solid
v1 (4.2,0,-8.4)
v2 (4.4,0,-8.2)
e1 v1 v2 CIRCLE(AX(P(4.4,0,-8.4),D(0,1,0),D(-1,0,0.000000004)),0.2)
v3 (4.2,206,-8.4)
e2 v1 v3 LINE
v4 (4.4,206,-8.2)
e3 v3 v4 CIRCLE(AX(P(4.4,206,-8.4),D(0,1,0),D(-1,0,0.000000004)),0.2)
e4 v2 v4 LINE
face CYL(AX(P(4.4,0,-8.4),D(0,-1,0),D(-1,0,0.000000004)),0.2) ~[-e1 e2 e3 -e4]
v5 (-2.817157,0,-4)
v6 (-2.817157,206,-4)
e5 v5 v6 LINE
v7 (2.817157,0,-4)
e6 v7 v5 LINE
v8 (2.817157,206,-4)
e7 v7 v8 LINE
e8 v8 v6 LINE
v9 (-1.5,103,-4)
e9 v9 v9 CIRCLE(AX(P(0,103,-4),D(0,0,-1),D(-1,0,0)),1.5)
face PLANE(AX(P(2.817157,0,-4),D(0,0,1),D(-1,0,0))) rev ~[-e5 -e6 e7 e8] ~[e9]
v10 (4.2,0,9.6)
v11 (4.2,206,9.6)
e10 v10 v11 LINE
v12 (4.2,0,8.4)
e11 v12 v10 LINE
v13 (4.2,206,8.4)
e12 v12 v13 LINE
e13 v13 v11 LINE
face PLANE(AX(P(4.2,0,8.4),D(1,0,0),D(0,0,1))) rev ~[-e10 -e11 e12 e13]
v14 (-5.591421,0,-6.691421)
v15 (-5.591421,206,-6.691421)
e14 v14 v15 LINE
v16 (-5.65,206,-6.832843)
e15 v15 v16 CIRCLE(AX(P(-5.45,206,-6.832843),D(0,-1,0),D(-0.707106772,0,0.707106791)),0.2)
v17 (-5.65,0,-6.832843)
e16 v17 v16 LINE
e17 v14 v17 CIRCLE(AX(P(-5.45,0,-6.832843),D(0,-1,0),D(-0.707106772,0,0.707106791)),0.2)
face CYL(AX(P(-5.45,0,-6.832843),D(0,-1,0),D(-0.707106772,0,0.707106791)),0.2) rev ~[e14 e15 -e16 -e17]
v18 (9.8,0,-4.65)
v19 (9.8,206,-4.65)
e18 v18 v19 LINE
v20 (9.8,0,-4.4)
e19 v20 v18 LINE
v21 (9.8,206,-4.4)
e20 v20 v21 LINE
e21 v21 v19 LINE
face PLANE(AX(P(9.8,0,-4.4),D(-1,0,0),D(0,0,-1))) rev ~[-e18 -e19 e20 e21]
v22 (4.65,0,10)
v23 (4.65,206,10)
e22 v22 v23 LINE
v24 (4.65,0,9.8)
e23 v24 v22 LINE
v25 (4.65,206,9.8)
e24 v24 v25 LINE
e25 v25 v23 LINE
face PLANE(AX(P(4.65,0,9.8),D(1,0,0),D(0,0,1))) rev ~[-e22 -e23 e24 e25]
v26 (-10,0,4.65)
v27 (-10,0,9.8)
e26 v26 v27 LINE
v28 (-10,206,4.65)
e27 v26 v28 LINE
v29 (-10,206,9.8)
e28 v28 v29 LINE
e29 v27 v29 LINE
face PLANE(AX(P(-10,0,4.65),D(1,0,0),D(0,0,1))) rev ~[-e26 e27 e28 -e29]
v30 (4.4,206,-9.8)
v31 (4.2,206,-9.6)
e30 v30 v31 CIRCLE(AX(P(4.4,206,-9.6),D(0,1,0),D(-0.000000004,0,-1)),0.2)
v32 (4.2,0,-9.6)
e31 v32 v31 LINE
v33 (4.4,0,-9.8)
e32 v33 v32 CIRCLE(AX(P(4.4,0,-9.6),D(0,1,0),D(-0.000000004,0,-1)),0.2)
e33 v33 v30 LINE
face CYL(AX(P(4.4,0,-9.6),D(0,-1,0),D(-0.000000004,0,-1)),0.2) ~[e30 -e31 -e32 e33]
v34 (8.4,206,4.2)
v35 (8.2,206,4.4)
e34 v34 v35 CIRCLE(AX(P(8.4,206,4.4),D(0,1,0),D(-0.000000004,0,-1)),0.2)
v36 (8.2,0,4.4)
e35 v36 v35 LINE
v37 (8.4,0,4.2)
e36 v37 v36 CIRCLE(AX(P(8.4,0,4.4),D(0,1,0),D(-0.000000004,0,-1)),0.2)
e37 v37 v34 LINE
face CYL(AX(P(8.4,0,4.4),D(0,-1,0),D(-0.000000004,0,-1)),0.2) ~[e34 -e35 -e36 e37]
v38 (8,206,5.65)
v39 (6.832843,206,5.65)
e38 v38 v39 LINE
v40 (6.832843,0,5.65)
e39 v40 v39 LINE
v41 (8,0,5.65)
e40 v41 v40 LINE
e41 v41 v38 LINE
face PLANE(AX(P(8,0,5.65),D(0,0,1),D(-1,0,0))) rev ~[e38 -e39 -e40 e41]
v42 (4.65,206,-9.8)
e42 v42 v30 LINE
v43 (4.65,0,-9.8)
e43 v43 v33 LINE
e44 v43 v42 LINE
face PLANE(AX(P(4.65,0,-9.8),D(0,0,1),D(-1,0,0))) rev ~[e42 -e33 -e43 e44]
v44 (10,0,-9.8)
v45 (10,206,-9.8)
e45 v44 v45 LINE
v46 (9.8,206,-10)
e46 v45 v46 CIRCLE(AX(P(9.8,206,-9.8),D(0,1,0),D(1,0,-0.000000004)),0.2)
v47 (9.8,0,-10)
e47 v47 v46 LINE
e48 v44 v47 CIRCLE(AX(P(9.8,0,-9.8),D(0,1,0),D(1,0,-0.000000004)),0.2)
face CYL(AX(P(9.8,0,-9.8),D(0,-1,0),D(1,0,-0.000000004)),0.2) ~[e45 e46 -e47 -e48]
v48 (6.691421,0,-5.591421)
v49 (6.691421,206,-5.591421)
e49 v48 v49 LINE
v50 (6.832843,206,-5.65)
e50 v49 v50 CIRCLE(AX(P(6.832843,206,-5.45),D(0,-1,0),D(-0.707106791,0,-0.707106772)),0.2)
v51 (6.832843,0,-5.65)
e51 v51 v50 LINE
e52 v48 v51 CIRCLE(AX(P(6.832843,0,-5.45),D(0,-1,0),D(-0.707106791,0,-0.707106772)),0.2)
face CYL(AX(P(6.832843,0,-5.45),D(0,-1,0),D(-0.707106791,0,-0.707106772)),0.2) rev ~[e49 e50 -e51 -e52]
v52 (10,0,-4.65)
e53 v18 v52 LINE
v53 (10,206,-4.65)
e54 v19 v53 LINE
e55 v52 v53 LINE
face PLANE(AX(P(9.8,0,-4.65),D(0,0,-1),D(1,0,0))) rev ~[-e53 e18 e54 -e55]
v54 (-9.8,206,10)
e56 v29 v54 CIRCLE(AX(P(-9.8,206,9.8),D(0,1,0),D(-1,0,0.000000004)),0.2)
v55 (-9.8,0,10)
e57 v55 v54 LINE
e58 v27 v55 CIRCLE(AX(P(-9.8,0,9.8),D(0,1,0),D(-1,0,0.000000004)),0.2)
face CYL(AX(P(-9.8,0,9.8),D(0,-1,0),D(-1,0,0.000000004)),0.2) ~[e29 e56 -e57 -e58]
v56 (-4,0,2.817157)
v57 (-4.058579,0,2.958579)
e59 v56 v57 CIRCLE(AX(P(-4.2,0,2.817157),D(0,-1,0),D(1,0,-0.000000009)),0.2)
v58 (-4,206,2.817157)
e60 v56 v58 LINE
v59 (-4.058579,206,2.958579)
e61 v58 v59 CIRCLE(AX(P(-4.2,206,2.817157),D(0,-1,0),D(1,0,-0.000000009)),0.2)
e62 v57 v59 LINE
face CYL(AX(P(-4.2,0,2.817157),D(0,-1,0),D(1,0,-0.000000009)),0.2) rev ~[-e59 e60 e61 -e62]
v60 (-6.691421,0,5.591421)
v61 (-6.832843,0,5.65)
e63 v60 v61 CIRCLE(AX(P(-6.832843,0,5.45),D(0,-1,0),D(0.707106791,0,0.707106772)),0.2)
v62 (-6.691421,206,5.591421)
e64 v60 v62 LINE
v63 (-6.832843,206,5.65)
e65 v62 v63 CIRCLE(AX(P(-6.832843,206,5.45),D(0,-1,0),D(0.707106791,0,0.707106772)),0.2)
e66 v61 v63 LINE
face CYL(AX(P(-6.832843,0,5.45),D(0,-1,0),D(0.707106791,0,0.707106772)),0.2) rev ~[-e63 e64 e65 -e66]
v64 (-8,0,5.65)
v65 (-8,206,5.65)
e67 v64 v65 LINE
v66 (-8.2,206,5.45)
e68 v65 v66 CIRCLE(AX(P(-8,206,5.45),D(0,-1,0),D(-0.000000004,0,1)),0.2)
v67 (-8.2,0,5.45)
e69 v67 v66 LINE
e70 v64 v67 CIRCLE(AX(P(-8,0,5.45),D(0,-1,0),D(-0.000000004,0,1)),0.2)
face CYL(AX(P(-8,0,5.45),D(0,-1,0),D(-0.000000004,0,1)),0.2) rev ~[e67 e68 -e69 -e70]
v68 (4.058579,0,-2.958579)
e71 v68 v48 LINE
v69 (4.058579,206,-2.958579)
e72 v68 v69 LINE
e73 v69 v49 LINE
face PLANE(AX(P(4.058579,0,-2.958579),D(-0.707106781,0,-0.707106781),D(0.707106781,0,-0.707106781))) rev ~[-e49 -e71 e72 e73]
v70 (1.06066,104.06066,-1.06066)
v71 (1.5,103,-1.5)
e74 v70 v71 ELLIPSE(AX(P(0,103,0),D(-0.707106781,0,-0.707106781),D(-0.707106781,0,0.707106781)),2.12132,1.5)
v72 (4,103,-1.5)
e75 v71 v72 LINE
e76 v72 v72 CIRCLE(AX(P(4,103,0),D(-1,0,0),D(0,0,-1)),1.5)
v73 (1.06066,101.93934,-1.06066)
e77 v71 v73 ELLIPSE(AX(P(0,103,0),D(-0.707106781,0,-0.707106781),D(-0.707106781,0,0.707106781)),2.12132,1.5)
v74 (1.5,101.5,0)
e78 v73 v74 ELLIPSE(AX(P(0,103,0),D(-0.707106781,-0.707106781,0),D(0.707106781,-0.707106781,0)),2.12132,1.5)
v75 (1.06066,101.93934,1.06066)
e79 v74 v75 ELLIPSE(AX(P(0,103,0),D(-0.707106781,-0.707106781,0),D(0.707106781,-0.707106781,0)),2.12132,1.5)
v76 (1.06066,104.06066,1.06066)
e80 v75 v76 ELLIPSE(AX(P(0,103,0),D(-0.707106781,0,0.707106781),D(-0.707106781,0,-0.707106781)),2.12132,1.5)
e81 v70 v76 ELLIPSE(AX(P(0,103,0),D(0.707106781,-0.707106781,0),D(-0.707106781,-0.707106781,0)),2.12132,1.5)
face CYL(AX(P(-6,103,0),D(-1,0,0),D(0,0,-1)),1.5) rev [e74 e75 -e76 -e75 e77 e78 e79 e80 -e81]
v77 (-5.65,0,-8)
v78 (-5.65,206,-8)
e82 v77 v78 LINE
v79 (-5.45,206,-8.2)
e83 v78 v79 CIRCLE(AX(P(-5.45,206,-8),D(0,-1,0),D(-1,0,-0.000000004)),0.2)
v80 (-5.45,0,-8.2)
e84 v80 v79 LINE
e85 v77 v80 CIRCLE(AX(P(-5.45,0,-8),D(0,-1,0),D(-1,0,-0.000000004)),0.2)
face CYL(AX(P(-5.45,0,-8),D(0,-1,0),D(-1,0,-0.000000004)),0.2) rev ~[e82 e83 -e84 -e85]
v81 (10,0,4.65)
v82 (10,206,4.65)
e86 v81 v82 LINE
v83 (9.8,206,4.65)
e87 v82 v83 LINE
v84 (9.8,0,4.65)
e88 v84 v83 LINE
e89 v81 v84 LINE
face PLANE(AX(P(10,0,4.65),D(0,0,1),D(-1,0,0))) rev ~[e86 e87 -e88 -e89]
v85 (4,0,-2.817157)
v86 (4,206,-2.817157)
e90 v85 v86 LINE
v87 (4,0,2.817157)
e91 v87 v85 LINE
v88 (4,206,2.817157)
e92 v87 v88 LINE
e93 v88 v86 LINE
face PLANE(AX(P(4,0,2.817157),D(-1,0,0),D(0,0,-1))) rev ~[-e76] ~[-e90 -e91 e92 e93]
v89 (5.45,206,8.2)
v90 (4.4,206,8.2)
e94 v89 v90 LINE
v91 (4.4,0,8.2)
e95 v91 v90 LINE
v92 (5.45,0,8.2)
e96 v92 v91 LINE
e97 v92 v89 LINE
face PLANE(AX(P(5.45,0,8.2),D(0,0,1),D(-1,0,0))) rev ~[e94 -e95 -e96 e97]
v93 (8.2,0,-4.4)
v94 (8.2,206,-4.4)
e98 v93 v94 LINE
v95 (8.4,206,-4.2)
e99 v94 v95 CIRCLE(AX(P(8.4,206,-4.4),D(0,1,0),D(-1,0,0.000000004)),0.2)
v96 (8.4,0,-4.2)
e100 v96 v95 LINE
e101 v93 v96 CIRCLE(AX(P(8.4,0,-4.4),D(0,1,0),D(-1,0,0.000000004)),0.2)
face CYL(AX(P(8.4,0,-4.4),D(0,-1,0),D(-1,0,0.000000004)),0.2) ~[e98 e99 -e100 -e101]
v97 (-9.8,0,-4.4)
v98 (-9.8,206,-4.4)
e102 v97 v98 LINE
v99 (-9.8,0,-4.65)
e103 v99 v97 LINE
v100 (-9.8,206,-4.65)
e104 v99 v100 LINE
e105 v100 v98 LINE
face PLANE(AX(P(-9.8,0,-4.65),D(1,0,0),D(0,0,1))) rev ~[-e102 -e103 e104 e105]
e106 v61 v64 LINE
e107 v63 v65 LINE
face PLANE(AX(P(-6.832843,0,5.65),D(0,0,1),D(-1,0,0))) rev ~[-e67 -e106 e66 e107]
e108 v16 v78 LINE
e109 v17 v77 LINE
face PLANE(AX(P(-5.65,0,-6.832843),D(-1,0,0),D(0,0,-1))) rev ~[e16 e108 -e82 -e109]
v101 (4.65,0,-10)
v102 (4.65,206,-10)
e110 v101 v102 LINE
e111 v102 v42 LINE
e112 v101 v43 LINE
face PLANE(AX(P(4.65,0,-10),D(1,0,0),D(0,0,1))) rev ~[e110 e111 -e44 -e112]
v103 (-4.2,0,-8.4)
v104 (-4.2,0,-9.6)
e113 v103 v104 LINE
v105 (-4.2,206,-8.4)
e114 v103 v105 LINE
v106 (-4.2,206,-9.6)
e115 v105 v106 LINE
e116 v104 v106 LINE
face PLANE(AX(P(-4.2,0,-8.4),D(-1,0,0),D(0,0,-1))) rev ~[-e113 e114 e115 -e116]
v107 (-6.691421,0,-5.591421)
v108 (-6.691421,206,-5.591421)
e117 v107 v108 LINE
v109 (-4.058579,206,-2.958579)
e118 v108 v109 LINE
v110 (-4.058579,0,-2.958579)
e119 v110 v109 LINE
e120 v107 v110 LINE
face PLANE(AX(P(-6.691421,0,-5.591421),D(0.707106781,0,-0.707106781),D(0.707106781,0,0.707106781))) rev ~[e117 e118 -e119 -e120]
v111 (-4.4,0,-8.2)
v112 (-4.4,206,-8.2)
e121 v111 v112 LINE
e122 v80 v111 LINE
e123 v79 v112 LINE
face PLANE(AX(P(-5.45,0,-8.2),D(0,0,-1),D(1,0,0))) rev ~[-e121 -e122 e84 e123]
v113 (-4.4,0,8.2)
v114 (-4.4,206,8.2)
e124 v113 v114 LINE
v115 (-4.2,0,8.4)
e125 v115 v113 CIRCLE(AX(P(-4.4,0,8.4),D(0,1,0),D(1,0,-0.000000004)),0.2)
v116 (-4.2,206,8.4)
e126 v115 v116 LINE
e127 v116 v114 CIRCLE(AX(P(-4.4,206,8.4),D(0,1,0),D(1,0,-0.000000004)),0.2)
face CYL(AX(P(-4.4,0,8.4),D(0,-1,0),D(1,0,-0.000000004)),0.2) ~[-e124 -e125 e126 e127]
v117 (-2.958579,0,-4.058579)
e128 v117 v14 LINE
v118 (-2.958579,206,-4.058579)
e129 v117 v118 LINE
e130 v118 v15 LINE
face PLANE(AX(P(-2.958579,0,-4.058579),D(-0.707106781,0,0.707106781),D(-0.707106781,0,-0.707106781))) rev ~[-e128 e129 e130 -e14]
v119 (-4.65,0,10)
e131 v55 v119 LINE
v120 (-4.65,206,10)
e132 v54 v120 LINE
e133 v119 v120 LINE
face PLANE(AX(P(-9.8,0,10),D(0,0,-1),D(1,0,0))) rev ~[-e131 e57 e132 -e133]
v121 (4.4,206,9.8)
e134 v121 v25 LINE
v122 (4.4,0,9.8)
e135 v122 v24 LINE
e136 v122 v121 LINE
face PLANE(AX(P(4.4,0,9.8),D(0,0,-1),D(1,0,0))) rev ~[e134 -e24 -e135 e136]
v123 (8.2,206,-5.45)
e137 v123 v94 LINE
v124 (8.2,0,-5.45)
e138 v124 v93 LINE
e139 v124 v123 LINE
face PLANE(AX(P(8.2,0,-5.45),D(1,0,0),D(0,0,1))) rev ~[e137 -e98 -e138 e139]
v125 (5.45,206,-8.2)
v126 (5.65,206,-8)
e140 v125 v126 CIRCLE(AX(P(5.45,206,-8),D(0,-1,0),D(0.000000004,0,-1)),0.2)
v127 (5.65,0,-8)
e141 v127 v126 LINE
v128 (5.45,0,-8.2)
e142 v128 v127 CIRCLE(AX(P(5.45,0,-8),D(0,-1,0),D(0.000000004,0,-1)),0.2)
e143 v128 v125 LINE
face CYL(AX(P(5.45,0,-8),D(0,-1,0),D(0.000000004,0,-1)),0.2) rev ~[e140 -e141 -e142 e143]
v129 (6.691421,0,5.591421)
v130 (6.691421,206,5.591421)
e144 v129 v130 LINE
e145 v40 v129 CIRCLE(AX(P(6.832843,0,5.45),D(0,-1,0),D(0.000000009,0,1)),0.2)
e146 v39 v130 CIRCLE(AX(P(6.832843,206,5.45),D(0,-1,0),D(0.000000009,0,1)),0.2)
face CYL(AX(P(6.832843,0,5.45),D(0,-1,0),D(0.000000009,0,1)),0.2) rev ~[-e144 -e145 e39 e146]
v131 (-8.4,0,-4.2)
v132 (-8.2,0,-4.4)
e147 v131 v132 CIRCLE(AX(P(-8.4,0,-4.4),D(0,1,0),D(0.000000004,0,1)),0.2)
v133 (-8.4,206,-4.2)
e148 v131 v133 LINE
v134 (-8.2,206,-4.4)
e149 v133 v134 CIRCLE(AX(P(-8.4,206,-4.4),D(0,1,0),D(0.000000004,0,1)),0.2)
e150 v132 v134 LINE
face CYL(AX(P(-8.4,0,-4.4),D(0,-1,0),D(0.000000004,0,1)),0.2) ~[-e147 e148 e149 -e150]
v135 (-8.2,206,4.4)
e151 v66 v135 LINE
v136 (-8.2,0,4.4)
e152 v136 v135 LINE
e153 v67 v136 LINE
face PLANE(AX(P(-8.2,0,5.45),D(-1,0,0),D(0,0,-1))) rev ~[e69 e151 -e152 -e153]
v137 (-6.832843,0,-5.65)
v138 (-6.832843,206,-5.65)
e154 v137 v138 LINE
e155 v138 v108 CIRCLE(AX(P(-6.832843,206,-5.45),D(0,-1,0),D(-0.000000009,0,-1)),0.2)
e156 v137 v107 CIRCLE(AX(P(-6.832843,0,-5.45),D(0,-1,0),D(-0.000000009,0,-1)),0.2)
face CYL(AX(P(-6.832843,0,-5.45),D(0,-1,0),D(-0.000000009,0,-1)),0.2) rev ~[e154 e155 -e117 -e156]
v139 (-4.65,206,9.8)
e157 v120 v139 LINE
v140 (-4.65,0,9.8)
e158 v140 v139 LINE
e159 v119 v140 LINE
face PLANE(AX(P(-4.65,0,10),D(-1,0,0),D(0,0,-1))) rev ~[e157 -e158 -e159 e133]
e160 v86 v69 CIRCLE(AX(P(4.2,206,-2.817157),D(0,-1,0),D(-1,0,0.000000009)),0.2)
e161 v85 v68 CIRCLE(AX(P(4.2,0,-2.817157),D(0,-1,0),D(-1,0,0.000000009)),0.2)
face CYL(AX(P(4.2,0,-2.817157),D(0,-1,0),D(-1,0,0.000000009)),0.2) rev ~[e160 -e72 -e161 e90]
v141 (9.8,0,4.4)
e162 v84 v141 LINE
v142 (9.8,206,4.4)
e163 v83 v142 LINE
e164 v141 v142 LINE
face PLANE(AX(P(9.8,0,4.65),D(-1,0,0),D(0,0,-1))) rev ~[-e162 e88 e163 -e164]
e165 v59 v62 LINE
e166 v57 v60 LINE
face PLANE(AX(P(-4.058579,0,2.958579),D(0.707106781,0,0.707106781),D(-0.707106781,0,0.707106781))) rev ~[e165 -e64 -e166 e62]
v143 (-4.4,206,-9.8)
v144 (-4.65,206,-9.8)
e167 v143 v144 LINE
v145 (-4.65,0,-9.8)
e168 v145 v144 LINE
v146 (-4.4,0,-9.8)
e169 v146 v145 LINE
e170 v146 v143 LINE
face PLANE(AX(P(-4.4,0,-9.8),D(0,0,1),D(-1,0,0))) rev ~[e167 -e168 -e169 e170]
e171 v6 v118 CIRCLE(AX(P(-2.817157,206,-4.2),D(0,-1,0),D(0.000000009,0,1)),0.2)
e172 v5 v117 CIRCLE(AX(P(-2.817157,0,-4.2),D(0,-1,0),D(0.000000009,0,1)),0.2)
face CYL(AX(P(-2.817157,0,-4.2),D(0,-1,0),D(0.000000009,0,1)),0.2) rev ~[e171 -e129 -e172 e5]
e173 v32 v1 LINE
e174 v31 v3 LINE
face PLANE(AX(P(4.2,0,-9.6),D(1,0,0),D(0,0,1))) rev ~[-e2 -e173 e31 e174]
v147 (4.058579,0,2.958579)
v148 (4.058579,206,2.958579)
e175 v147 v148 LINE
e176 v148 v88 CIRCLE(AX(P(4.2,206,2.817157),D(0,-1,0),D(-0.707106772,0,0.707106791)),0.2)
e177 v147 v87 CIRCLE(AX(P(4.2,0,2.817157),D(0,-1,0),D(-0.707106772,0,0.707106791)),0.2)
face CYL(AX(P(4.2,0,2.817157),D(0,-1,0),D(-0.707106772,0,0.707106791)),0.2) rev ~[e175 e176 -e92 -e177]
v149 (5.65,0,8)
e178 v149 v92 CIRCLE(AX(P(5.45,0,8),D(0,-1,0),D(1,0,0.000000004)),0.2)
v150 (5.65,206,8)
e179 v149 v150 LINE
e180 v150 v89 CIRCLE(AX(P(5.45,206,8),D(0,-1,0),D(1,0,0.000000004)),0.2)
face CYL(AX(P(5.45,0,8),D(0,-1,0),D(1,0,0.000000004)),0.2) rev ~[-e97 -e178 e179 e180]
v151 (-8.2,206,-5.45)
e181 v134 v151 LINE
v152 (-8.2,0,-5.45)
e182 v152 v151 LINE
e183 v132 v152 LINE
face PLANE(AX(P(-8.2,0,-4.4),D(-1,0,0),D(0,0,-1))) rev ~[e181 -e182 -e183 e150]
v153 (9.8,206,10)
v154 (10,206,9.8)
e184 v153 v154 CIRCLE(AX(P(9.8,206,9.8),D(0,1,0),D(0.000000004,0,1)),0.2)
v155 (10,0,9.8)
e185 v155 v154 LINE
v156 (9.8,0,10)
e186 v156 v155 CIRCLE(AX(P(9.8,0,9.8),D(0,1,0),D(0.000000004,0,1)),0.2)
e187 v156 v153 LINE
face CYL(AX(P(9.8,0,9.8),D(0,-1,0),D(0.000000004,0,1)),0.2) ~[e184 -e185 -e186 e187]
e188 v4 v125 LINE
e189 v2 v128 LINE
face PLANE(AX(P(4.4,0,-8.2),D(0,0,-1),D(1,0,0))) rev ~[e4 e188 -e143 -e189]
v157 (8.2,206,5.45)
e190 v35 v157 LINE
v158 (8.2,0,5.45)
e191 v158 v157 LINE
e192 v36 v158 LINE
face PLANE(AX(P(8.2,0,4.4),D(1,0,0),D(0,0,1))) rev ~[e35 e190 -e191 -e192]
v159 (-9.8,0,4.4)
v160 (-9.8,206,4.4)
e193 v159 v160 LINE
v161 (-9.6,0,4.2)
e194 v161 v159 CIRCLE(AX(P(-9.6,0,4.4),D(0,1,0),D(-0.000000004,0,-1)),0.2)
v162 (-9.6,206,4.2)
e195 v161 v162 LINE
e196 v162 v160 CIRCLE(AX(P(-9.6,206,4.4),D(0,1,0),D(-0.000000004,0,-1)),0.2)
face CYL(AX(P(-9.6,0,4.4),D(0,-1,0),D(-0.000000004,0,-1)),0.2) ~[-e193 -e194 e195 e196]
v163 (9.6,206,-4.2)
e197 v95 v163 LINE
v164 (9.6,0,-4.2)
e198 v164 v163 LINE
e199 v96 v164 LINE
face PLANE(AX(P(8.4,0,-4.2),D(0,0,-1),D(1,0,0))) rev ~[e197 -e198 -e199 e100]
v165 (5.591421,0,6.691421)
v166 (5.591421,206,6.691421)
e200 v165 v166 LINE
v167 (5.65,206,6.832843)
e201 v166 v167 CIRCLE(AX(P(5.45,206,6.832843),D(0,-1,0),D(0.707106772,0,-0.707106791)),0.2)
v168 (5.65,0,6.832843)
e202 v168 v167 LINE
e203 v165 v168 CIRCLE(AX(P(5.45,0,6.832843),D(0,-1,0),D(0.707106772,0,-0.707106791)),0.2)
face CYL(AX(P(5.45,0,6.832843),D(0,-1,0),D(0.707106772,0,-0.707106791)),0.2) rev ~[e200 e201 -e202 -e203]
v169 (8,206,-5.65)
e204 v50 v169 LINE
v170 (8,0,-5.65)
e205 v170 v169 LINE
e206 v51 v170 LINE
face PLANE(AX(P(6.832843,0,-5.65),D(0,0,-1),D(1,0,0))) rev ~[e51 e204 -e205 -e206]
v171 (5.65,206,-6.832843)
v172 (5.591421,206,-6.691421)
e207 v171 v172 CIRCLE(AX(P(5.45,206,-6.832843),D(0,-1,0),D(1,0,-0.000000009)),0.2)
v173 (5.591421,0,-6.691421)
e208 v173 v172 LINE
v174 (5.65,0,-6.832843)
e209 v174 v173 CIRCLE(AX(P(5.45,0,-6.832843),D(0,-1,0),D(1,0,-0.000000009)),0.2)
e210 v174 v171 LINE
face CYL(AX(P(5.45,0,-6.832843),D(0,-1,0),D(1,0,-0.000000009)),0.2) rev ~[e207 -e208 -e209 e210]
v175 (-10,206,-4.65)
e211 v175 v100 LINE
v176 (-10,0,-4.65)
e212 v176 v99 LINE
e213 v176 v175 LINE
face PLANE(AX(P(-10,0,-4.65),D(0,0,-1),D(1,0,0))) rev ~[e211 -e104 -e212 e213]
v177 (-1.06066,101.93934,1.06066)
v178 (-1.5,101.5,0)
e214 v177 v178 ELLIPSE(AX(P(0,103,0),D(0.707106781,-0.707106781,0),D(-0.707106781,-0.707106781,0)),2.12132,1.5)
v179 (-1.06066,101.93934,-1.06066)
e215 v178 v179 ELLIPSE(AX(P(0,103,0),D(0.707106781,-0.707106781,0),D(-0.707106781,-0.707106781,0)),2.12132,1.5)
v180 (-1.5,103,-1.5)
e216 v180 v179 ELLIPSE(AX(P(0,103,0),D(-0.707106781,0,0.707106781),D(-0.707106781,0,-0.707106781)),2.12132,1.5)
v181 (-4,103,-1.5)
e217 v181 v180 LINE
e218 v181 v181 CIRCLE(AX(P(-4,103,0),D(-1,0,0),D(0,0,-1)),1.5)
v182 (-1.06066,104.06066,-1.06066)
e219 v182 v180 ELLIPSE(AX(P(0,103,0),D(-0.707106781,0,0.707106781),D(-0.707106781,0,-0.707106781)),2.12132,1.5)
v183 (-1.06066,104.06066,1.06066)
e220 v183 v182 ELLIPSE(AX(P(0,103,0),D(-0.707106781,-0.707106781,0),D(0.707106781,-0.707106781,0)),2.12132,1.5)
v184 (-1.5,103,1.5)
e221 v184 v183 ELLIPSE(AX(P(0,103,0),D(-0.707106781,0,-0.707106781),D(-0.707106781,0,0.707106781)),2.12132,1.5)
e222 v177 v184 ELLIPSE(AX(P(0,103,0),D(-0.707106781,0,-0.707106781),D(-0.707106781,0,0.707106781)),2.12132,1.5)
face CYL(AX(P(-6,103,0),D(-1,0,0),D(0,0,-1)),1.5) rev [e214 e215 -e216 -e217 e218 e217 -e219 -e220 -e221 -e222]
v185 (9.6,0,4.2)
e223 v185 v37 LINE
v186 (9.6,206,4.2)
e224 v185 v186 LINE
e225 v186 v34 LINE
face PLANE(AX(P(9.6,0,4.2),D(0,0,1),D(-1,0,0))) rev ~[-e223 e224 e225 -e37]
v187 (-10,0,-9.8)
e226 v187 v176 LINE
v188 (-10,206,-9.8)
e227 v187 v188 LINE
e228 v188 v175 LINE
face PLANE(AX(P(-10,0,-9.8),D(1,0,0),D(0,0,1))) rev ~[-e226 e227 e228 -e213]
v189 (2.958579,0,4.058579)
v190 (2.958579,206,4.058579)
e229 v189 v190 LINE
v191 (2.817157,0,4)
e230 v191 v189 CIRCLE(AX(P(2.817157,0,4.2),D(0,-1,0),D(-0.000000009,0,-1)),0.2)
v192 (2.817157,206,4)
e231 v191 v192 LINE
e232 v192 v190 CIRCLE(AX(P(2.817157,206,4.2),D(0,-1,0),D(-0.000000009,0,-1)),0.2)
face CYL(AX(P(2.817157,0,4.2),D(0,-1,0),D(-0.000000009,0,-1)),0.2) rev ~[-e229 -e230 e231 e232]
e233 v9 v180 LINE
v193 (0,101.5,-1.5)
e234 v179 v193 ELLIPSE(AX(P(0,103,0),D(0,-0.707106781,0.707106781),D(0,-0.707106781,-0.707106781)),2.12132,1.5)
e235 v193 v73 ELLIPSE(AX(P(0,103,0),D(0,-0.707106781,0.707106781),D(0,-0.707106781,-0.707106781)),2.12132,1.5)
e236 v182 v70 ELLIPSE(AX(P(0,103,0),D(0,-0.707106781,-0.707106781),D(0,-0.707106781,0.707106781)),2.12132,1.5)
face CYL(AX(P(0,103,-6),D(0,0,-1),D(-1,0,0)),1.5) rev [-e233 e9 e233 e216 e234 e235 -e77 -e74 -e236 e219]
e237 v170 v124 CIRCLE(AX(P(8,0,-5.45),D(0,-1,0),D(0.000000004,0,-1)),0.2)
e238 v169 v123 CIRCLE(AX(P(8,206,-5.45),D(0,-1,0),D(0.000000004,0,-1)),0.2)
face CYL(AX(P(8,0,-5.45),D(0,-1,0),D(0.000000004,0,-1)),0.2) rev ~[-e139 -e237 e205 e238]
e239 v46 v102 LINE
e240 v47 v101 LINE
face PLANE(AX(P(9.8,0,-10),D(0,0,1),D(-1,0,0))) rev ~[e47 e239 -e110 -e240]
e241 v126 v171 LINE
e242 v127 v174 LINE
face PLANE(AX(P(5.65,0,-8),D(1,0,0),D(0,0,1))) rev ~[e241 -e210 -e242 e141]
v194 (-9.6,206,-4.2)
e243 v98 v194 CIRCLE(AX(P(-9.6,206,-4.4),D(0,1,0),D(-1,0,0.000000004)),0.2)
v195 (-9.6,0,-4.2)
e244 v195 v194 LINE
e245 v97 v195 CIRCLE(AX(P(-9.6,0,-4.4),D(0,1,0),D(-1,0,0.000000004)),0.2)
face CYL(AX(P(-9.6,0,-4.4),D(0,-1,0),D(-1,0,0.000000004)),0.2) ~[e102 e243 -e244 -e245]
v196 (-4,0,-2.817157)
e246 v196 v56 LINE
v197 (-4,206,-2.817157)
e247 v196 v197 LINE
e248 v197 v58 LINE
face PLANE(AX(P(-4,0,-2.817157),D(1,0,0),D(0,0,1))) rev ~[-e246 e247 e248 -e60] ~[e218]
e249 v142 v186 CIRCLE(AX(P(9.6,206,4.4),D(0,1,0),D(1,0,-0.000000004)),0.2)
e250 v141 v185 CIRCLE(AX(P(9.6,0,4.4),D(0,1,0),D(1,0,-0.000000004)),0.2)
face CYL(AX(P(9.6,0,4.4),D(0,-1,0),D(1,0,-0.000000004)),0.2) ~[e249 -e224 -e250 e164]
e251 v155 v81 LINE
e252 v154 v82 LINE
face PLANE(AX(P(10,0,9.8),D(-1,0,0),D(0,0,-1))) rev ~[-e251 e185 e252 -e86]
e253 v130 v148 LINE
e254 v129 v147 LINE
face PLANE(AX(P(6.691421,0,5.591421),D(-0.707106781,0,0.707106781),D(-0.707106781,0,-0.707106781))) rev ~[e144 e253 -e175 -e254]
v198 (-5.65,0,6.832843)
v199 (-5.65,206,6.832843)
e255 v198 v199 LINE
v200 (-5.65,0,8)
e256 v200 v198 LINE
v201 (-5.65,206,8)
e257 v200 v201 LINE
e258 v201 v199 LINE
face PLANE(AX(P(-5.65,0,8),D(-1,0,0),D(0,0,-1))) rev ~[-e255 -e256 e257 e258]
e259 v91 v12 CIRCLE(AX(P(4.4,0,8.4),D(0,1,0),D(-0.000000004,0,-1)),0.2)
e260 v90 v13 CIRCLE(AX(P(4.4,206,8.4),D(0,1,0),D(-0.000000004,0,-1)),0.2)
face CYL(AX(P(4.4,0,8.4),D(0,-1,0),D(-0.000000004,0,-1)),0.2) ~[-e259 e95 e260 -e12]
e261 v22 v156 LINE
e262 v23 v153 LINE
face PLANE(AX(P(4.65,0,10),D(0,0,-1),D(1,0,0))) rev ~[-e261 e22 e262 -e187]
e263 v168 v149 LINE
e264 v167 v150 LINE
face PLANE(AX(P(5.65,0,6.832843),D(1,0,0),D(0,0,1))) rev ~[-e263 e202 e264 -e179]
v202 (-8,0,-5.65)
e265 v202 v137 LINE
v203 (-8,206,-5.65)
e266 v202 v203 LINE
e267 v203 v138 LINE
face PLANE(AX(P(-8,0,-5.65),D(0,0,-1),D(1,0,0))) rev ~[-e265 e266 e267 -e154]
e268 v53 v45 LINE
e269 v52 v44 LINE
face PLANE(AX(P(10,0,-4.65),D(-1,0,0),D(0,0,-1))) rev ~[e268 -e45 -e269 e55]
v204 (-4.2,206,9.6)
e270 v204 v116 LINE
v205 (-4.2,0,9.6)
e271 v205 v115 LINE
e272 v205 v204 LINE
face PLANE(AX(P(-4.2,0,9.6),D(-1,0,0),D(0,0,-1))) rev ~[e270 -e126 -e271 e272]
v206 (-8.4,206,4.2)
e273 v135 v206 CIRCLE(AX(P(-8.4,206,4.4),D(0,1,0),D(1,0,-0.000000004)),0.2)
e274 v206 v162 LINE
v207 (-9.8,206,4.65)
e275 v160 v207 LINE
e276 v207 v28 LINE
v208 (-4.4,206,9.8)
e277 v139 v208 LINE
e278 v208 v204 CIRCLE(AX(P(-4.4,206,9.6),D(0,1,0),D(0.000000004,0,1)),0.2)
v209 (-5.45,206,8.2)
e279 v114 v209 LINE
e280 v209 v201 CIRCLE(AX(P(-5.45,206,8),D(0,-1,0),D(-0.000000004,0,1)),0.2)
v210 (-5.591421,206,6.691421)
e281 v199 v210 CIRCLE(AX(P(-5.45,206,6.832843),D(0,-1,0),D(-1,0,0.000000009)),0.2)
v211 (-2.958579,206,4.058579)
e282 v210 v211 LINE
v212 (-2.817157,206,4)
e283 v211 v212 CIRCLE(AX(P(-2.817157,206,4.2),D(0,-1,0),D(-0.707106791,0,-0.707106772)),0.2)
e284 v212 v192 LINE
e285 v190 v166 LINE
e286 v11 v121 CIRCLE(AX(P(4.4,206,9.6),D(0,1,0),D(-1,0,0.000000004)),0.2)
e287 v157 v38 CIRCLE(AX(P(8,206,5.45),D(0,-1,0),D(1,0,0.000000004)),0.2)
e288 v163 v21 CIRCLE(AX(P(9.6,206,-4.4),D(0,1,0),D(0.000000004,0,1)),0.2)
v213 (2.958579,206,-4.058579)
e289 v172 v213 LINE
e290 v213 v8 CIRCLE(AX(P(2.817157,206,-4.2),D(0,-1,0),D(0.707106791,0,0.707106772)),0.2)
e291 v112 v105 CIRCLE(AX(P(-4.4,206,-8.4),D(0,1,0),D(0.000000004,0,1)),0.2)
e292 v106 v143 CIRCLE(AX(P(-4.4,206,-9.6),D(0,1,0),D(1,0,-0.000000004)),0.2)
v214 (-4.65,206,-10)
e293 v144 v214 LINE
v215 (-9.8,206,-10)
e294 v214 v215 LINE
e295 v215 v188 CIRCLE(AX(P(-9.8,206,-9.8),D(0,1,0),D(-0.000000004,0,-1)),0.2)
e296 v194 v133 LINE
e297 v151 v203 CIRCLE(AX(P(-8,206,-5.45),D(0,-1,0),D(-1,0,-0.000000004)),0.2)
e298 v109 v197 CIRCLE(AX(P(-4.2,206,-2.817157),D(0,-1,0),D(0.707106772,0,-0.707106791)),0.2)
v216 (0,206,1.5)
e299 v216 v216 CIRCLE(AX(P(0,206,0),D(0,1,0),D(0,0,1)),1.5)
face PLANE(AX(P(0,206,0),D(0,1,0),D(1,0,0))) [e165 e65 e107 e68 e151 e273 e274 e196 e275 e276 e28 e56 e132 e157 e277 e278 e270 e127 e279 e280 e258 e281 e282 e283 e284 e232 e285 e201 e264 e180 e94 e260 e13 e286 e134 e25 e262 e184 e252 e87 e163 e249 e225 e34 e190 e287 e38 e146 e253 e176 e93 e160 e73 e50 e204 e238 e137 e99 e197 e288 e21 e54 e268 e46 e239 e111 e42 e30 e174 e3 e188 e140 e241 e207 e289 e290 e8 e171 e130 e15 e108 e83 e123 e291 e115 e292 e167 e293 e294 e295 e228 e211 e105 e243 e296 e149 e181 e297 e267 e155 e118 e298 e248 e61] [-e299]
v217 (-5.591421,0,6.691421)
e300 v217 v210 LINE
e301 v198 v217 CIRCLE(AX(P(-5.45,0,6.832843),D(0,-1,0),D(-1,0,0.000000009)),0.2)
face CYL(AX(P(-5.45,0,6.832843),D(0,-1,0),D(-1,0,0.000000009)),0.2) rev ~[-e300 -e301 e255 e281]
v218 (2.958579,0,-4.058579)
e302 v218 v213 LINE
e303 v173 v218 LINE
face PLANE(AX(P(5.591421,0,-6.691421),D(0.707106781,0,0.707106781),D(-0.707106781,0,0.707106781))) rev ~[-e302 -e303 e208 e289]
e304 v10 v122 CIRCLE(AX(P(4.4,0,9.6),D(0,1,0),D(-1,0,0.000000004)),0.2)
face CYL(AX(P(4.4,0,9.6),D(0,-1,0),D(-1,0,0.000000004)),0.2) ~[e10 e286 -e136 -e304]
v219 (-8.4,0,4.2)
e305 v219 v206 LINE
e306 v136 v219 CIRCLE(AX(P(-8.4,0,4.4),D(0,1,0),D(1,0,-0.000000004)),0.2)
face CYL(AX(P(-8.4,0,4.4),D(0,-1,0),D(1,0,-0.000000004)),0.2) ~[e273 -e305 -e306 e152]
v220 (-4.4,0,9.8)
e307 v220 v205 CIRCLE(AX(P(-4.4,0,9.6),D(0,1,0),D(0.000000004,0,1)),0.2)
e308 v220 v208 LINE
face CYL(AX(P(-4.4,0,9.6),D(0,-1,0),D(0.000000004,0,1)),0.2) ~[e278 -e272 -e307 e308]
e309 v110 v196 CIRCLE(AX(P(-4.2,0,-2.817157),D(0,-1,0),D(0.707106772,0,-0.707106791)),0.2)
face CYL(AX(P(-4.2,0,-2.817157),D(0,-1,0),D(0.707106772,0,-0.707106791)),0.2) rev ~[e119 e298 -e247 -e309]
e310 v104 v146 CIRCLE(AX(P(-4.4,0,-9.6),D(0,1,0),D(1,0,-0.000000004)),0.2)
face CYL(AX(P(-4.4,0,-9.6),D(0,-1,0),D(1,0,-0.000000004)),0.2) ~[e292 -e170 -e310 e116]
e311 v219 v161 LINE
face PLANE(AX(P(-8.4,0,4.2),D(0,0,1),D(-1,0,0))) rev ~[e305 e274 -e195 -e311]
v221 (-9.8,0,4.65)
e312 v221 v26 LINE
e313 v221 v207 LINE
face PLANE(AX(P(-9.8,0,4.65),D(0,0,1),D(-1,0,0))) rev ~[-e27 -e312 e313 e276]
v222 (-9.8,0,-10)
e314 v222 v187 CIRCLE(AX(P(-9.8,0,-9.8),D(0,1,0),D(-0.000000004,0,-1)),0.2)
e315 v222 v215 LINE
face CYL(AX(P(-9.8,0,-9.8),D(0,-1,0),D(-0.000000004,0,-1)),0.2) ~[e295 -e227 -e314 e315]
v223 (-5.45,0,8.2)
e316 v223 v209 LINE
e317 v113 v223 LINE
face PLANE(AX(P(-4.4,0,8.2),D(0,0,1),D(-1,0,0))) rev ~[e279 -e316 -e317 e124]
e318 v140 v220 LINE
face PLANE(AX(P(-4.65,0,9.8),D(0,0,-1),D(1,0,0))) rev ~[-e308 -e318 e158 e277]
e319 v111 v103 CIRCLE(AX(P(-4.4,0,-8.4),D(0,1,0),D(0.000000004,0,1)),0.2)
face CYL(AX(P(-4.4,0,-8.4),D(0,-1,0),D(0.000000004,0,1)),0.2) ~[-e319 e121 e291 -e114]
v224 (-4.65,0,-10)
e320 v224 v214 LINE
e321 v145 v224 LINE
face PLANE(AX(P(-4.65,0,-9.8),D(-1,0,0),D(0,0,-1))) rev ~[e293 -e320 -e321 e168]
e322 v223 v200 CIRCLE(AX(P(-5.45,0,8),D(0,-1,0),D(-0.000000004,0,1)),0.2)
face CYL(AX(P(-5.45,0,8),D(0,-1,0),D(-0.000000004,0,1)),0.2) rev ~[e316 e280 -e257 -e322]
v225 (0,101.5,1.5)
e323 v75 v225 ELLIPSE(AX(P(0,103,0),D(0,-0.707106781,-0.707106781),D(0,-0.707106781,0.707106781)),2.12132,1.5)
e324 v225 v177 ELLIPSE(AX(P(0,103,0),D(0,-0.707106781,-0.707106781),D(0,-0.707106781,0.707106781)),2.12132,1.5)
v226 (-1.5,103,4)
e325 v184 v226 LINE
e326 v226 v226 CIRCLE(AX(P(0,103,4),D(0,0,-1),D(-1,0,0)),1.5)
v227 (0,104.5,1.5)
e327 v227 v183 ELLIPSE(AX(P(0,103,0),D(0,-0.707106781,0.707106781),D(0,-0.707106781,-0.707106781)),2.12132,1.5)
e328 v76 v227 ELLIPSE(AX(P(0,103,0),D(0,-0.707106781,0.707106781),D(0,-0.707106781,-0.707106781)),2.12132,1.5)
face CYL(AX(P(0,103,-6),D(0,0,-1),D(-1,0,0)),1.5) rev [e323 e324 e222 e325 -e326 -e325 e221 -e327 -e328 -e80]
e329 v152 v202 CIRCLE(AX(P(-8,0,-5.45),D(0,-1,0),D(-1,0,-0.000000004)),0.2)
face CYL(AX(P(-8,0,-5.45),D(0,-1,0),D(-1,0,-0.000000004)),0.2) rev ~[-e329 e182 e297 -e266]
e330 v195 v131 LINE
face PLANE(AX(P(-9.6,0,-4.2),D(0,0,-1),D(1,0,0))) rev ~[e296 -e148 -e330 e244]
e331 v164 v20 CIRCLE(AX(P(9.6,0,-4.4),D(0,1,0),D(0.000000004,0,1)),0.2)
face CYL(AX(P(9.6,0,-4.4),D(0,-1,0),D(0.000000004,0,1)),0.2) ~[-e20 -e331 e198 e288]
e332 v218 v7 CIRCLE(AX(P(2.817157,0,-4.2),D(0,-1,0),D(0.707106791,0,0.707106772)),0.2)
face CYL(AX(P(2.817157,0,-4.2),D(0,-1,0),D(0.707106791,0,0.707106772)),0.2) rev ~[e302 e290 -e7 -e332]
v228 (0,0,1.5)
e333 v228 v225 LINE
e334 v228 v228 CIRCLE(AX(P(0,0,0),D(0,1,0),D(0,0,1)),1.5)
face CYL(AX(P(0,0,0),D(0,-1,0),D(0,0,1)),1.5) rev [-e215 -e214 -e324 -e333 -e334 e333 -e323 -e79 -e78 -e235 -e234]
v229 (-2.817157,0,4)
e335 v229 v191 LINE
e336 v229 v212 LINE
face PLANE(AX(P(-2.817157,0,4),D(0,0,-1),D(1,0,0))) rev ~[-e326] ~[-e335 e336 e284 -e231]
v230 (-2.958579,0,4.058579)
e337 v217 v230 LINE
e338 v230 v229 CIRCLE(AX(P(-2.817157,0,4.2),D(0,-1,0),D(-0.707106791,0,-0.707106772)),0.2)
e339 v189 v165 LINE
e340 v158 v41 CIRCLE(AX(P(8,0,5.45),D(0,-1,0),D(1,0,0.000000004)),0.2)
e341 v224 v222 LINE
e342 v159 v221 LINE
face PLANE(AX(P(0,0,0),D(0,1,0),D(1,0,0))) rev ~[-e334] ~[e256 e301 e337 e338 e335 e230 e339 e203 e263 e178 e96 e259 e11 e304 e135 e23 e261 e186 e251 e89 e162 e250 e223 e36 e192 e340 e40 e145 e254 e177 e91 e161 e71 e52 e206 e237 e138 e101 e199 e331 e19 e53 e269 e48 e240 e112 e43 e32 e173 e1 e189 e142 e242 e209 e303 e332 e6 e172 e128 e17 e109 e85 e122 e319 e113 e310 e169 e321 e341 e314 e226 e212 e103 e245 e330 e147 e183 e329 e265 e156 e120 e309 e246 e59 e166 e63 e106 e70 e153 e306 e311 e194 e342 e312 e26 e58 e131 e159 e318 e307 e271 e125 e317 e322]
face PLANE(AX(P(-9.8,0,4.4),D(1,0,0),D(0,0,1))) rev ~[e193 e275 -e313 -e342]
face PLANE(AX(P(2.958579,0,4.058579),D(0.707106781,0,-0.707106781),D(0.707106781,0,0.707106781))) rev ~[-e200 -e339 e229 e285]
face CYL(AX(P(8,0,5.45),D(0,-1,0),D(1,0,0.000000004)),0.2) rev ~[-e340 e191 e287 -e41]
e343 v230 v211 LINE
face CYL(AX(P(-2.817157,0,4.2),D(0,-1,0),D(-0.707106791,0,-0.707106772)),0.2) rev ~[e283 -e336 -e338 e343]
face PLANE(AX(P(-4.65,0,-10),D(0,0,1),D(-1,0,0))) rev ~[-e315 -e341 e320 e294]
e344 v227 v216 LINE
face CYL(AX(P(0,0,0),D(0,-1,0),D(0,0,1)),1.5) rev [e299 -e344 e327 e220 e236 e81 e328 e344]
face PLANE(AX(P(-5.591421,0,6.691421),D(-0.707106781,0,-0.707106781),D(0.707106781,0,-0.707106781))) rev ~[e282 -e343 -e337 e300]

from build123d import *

# Parameters (mm, degrees)
SKETCH1_R               = 1.5
BOSS_EXTRUDE1_DEPTH     = 206
CUT_EXTRUDE1_DEPTH      = 10
CUT_EXTRUDE1_DEPTH_BACK = 10
SKETCH2_R               = 1.5
CUT_EXTRUDE2_DEPTH      = 10
CUT_EXTRUDE2_DEPTH_BACK = 10
SKETCH4_R               = 1.5


with BuildPart() as part:
    # Sketch1 → Boss-Extrude1 (new body)
    with BuildSketch(Plane(origin=(0, 0, 0), x_dir=(1, 0, 0), z_dir=(0, 1, 0))):
        with BuildLine():
            Line((-10, 4.65), (-9.8, 4.65))
            Line((-9.8, 4.65), (-9.8, 4.4))
            ThreePointArc((-9.8, 4.4), (-9.741421356, 4.258578644), (-9.6, 4.2))
            Line((-9.6, 4.2), (-8.4, 4.2))
            ThreePointArc((-8.4, 4.2), (-8.258578644, 4.258578644), (-8.2, 4.4))
            Line((-8.2, 4.4), (-8.2, 5.45))
            ThreePointArc((-8.2, 5.45), (-8.141421356, 5.591421356), (-8, 5.65))
            Line((-8, 5.65), (-6.832842712, 5.65))
            ThreePointArc((-6.832842712, 5.65), (-6.756306026, 5.634775907), (-6.691421356, 5.591421356))
            Line((-6.691421356, 5.591421356), (-4.058578644, 2.958578644))
            ThreePointArc((-4.058578644, 2.958578644), (-4.015224093, 2.893693974), (-4, 2.817157288))
            Line((-4, 2.817157288), (-4, -2.817157288))
            ThreePointArc((-4, -2.817157288), (-4.015224093, -2.893693974), (-4.058578644, -2.958578644))
            Line((-4.058578644, -2.958578644), (-6.691421356, -5.591421356))
            ThreePointArc((-6.691421356, -5.591421356), (-6.756306026, -5.634775907), (-6.832842712, -5.65))
            Line((-6.832842712, -5.65), (-8, -5.65))
            ThreePointArc((-8, -5.65), (-8.141421356, -5.591421356), (-8.2, -5.45))
            Line((-8.2, -5.45), (-8.2, -4.4))
            ThreePointArc((-8.2, -4.4), (-8.258578644, -4.258578644), (-8.4, -4.2))
            Line((-8.4, -4.2), (-9.6, -4.2))
            ThreePointArc((-9.6, -4.2), (-9.741421356, -4.258578644), (-9.8, -4.4))
            Line((-9.8, -4.4), (-9.8, -4.65))
            Line((-9.8, -4.65), (-10, -4.65))
            Line((-10, -4.65), (-10, -9.8))
            ThreePointArc((-10, -9.8), (-9.941421356, -9.941421356), (-9.8, -10))
            Line((-9.8, -10), (-4.65, -10))
            Line((-4.65, -10), (-4.65, -9.8))
            Line((-4.65, -9.8), (-4.4, -9.8))
            ThreePointArc((-4.4, -9.8), (-4.258578644, -9.741421356), (-4.2, -9.6))
            Line((-4.2, -9.6), (-4.2, -8.4))
            ThreePointArc((-4.2, -8.4), (-4.258578644, -8.258578644), (-4.4, -8.2))
            Line((-4.4, -8.2), (-5.45, -8.2))
            ThreePointArc((-5.45, -8.2), (-5.591421356, -8.141421356), (-5.65, -8))
            Line((-5.65, -8), (-5.65, -6.832842712))
            ThreePointArc((-5.65, -6.832842712), (-5.634775907, -6.756306026), (-5.591421356, -6.691421356))
            Line((-5.591421356, -6.691421356), (-2.958578644, -4.058578644))
            ThreePointArc((-2.958578644, -4.058578644), (-2.893693974, -4.015224093), (-2.817157288, -4))
            Line((-2.817157288, -4), (2.817157288, -4))
            ThreePointArc((2.817157288, -4), (2.893693974, -4.015224093), (2.958578644, -4.058578644))
            Line((2.958578644, -4.058578644), (5.591421356, -6.691421356))
            ThreePointArc((5.591421356, -6.691421356), (5.634775907, -6.756306026), (5.65, -6.832842712))
            Line((5.65, -6.832842712), (5.65, -8))
            ThreePointArc((5.65, -8), (5.591421356, -8.141421356), (5.45, -8.2))
            Line((5.45, -8.2), (4.4, -8.2))
            ThreePointArc((4.4, -8.2), (4.258578644, -8.258578644), (4.2, -8.4))
            Line((4.2, -8.4), (4.2, -9.6))
            ThreePointArc((4.2, -9.6), (4.258578644, -9.741421356), (4.4, -9.8))
            Line((4.4, -9.8), (4.65, -9.8))
            Line((4.65, -9.8), (4.65, -10))
            Line((4.65, -10), (9.8, -10))
            ThreePointArc((9.8, -10), (9.941421356, -9.941421356), (10, -9.8))
            Line((10, -9.8), (10, -4.65))
            Line((10, -4.65), (9.8, -4.65))
            Line((9.8, -4.65), (9.8, -4.4))
            ThreePointArc((9.8, -4.4), (9.741421356, -4.258578644), (9.6, -4.2))
            Line((9.6, -4.2), (8.4, -4.2))
            ThreePointArc((8.4, -4.2), (8.258578644, -4.258578644), (8.2, -4.4))
            Line((8.2, -4.4), (8.2, -5.45))
            ThreePointArc((8.2, -5.45), (8.141421356, -5.591421356), (8, -5.65))
            Line((8, -5.65), (6.832842712, -5.65))
            ThreePointArc((6.832842712, -5.65), (6.756306026, -5.634775907), (6.691421356, -5.591421356))
            Line((6.691421356, -5.591421356), (4.058578644, -2.958578644))
            ThreePointArc((4.058578644, -2.958578644), (4.015224093, -2.893693974), (4, -2.817157288))
            Line((4, -2.817157288), (4, 2.817157288))
            ThreePointArc((4, 2.817157288), (4.015224093, 2.893693974), (4.058578644, 2.958578644))
            Line((4.058578644, 2.958578644), (6.691421356, 5.591421356))
            ThreePointArc((6.691421356, 5.591421356), (6.756306026, 5.634775907), (6.832842712, 5.65))
            Line((6.832842712, 5.65), (8, 5.65))
            ThreePointArc((8, 5.65), (8.141421356, 5.591421356), (8.2, 5.45))
            Line((8.2, 5.45), (8.2, 4.4))
            ThreePointArc((8.2, 4.4), (8.258578644, 4.258578644), (8.4, 4.2))
            Line((8.4, 4.2), (9.6, 4.2))
            ThreePointArc((9.6, 4.2), (9.741421356, 4.258578644), (9.8, 4.4))
            Line((9.8, 4.4), (9.8, 4.65))
            Line((9.8, 4.65), (10, 4.65))
            Line((10, 4.65), (10, 9.8))
            ThreePointArc((10, 9.8), (9.941421356, 9.941421356), (9.8, 10))
            Line((9.8, 10), (4.65, 10))
            Line((4.65, 10), (4.65, 9.8))
            Line((4.65, 9.8), (4.4, 9.8))
            ThreePointArc((4.4, 9.8), (4.258578644, 9.741421356), (4.2, 9.6))
            Line((4.2, 9.6), (4.2, 8.4))
            ThreePointArc((4.2, 8.4), (4.258578644, 8.258578644), (4.4, 8.2))
            Line((4.4, 8.2), (5.45, 8.2))
            ThreePointArc((5.45, 8.2), (5.591421356, 8.141421356), (5.65, 8))
            Line((5.65, 8), (5.65, 6.832842712))
            ThreePointArc((5.65, 6.832842712), (5.634775907, 6.756306026), (5.591421356, 6.691421356))
            Line((5.591421356, 6.691421356), (2.958578644, 4.058578644))
            ThreePointArc((2.958578644, 4.058578644), (2.893693974, 4.015224093), (2.817157288, 4))
            Line((2.817157288, 4), (-2.817157288, 4))
            ThreePointArc((-2.817157288, 4), (-2.893693974, 4.015224093), (-2.958578644, 4.058578644))
            Line((-2.958578644, 4.058578644), (-5.591421356, 6.691421356))
            ThreePointArc((-5.591421356, 6.691421356), (-5.634775907, 6.756306026), (-5.65, 6.832842712))
            Line((-5.65, 6.832842712), (-5.65, 8))
            ThreePointArc((-5.65, 8), (-5.591421356, 8.141421356), (-5.45, 8.2))
            Line((-5.45, 8.2), (-4.4, 8.2))
            ThreePointArc((-4.4, 8.2), (-4.258578644, 8.258578644), (-4.2, 8.4))
            Line((-4.2, 8.4), (-4.2, 9.6))
            ThreePointArc((-4.2, 9.6), (-4.258578644, 9.741421356), (-4.4, 9.8))
            Line((-4.4, 9.8), (-4.65, 9.8))
            Line((-4.65, 9.8), (-4.65, 10))
            Line((-4.65, 10), (-9.8, 10))
            ThreePointArc((-9.8, 10), (-9.941421356, 9.941421356), (-10, 9.8))
            Line((-10, 9.8), (-10, 4.65))
        make_face()
        with Locations(Location((0, 0, 0), (0, 0, 270))):
            Circle(SKETCH1_R, mode=Mode.SUBTRACT)
    extrude(amount=BOSS_EXTRUDE1_DEPTH)

    # Sketch2 → Cut-Extrude1 (cut, two sides: drawn at the far end of the back side and taken through both)
    with BuildSketch(Plane(origin=(4, 0, 0), x_dir=(0, 0, -1), z_dir=(1, 0, 0)).offset(-CUT_EXTRUDE1_DEPTH_BACK)):
        with Locations((0, 103)):
            Circle(SKETCH2_R)
    extrude(amount=CUT_EXTRUDE1_DEPTH + CUT_EXTRUDE1_DEPTH_BACK, mode=Mode.SUBTRACT)

    # Sketch4 → Cut-Extrude2 (cut, two sides: drawn at the far end of the back side and taken through both)
    with BuildSketch(Plane.XY.offset(4).offset(-CUT_EXTRUDE2_DEPTH_BACK)):
        with Locations(Location((0, 103, 0), (0, 0, 180))):
            Circle(SKETCH4_R)
    extrude(amount=CUT_EXTRUDE2_DEPTH + CUT_EXTRUDE2_DEPTH_BACK, mode=Mode.SUBTRACT)


solid = part.part
